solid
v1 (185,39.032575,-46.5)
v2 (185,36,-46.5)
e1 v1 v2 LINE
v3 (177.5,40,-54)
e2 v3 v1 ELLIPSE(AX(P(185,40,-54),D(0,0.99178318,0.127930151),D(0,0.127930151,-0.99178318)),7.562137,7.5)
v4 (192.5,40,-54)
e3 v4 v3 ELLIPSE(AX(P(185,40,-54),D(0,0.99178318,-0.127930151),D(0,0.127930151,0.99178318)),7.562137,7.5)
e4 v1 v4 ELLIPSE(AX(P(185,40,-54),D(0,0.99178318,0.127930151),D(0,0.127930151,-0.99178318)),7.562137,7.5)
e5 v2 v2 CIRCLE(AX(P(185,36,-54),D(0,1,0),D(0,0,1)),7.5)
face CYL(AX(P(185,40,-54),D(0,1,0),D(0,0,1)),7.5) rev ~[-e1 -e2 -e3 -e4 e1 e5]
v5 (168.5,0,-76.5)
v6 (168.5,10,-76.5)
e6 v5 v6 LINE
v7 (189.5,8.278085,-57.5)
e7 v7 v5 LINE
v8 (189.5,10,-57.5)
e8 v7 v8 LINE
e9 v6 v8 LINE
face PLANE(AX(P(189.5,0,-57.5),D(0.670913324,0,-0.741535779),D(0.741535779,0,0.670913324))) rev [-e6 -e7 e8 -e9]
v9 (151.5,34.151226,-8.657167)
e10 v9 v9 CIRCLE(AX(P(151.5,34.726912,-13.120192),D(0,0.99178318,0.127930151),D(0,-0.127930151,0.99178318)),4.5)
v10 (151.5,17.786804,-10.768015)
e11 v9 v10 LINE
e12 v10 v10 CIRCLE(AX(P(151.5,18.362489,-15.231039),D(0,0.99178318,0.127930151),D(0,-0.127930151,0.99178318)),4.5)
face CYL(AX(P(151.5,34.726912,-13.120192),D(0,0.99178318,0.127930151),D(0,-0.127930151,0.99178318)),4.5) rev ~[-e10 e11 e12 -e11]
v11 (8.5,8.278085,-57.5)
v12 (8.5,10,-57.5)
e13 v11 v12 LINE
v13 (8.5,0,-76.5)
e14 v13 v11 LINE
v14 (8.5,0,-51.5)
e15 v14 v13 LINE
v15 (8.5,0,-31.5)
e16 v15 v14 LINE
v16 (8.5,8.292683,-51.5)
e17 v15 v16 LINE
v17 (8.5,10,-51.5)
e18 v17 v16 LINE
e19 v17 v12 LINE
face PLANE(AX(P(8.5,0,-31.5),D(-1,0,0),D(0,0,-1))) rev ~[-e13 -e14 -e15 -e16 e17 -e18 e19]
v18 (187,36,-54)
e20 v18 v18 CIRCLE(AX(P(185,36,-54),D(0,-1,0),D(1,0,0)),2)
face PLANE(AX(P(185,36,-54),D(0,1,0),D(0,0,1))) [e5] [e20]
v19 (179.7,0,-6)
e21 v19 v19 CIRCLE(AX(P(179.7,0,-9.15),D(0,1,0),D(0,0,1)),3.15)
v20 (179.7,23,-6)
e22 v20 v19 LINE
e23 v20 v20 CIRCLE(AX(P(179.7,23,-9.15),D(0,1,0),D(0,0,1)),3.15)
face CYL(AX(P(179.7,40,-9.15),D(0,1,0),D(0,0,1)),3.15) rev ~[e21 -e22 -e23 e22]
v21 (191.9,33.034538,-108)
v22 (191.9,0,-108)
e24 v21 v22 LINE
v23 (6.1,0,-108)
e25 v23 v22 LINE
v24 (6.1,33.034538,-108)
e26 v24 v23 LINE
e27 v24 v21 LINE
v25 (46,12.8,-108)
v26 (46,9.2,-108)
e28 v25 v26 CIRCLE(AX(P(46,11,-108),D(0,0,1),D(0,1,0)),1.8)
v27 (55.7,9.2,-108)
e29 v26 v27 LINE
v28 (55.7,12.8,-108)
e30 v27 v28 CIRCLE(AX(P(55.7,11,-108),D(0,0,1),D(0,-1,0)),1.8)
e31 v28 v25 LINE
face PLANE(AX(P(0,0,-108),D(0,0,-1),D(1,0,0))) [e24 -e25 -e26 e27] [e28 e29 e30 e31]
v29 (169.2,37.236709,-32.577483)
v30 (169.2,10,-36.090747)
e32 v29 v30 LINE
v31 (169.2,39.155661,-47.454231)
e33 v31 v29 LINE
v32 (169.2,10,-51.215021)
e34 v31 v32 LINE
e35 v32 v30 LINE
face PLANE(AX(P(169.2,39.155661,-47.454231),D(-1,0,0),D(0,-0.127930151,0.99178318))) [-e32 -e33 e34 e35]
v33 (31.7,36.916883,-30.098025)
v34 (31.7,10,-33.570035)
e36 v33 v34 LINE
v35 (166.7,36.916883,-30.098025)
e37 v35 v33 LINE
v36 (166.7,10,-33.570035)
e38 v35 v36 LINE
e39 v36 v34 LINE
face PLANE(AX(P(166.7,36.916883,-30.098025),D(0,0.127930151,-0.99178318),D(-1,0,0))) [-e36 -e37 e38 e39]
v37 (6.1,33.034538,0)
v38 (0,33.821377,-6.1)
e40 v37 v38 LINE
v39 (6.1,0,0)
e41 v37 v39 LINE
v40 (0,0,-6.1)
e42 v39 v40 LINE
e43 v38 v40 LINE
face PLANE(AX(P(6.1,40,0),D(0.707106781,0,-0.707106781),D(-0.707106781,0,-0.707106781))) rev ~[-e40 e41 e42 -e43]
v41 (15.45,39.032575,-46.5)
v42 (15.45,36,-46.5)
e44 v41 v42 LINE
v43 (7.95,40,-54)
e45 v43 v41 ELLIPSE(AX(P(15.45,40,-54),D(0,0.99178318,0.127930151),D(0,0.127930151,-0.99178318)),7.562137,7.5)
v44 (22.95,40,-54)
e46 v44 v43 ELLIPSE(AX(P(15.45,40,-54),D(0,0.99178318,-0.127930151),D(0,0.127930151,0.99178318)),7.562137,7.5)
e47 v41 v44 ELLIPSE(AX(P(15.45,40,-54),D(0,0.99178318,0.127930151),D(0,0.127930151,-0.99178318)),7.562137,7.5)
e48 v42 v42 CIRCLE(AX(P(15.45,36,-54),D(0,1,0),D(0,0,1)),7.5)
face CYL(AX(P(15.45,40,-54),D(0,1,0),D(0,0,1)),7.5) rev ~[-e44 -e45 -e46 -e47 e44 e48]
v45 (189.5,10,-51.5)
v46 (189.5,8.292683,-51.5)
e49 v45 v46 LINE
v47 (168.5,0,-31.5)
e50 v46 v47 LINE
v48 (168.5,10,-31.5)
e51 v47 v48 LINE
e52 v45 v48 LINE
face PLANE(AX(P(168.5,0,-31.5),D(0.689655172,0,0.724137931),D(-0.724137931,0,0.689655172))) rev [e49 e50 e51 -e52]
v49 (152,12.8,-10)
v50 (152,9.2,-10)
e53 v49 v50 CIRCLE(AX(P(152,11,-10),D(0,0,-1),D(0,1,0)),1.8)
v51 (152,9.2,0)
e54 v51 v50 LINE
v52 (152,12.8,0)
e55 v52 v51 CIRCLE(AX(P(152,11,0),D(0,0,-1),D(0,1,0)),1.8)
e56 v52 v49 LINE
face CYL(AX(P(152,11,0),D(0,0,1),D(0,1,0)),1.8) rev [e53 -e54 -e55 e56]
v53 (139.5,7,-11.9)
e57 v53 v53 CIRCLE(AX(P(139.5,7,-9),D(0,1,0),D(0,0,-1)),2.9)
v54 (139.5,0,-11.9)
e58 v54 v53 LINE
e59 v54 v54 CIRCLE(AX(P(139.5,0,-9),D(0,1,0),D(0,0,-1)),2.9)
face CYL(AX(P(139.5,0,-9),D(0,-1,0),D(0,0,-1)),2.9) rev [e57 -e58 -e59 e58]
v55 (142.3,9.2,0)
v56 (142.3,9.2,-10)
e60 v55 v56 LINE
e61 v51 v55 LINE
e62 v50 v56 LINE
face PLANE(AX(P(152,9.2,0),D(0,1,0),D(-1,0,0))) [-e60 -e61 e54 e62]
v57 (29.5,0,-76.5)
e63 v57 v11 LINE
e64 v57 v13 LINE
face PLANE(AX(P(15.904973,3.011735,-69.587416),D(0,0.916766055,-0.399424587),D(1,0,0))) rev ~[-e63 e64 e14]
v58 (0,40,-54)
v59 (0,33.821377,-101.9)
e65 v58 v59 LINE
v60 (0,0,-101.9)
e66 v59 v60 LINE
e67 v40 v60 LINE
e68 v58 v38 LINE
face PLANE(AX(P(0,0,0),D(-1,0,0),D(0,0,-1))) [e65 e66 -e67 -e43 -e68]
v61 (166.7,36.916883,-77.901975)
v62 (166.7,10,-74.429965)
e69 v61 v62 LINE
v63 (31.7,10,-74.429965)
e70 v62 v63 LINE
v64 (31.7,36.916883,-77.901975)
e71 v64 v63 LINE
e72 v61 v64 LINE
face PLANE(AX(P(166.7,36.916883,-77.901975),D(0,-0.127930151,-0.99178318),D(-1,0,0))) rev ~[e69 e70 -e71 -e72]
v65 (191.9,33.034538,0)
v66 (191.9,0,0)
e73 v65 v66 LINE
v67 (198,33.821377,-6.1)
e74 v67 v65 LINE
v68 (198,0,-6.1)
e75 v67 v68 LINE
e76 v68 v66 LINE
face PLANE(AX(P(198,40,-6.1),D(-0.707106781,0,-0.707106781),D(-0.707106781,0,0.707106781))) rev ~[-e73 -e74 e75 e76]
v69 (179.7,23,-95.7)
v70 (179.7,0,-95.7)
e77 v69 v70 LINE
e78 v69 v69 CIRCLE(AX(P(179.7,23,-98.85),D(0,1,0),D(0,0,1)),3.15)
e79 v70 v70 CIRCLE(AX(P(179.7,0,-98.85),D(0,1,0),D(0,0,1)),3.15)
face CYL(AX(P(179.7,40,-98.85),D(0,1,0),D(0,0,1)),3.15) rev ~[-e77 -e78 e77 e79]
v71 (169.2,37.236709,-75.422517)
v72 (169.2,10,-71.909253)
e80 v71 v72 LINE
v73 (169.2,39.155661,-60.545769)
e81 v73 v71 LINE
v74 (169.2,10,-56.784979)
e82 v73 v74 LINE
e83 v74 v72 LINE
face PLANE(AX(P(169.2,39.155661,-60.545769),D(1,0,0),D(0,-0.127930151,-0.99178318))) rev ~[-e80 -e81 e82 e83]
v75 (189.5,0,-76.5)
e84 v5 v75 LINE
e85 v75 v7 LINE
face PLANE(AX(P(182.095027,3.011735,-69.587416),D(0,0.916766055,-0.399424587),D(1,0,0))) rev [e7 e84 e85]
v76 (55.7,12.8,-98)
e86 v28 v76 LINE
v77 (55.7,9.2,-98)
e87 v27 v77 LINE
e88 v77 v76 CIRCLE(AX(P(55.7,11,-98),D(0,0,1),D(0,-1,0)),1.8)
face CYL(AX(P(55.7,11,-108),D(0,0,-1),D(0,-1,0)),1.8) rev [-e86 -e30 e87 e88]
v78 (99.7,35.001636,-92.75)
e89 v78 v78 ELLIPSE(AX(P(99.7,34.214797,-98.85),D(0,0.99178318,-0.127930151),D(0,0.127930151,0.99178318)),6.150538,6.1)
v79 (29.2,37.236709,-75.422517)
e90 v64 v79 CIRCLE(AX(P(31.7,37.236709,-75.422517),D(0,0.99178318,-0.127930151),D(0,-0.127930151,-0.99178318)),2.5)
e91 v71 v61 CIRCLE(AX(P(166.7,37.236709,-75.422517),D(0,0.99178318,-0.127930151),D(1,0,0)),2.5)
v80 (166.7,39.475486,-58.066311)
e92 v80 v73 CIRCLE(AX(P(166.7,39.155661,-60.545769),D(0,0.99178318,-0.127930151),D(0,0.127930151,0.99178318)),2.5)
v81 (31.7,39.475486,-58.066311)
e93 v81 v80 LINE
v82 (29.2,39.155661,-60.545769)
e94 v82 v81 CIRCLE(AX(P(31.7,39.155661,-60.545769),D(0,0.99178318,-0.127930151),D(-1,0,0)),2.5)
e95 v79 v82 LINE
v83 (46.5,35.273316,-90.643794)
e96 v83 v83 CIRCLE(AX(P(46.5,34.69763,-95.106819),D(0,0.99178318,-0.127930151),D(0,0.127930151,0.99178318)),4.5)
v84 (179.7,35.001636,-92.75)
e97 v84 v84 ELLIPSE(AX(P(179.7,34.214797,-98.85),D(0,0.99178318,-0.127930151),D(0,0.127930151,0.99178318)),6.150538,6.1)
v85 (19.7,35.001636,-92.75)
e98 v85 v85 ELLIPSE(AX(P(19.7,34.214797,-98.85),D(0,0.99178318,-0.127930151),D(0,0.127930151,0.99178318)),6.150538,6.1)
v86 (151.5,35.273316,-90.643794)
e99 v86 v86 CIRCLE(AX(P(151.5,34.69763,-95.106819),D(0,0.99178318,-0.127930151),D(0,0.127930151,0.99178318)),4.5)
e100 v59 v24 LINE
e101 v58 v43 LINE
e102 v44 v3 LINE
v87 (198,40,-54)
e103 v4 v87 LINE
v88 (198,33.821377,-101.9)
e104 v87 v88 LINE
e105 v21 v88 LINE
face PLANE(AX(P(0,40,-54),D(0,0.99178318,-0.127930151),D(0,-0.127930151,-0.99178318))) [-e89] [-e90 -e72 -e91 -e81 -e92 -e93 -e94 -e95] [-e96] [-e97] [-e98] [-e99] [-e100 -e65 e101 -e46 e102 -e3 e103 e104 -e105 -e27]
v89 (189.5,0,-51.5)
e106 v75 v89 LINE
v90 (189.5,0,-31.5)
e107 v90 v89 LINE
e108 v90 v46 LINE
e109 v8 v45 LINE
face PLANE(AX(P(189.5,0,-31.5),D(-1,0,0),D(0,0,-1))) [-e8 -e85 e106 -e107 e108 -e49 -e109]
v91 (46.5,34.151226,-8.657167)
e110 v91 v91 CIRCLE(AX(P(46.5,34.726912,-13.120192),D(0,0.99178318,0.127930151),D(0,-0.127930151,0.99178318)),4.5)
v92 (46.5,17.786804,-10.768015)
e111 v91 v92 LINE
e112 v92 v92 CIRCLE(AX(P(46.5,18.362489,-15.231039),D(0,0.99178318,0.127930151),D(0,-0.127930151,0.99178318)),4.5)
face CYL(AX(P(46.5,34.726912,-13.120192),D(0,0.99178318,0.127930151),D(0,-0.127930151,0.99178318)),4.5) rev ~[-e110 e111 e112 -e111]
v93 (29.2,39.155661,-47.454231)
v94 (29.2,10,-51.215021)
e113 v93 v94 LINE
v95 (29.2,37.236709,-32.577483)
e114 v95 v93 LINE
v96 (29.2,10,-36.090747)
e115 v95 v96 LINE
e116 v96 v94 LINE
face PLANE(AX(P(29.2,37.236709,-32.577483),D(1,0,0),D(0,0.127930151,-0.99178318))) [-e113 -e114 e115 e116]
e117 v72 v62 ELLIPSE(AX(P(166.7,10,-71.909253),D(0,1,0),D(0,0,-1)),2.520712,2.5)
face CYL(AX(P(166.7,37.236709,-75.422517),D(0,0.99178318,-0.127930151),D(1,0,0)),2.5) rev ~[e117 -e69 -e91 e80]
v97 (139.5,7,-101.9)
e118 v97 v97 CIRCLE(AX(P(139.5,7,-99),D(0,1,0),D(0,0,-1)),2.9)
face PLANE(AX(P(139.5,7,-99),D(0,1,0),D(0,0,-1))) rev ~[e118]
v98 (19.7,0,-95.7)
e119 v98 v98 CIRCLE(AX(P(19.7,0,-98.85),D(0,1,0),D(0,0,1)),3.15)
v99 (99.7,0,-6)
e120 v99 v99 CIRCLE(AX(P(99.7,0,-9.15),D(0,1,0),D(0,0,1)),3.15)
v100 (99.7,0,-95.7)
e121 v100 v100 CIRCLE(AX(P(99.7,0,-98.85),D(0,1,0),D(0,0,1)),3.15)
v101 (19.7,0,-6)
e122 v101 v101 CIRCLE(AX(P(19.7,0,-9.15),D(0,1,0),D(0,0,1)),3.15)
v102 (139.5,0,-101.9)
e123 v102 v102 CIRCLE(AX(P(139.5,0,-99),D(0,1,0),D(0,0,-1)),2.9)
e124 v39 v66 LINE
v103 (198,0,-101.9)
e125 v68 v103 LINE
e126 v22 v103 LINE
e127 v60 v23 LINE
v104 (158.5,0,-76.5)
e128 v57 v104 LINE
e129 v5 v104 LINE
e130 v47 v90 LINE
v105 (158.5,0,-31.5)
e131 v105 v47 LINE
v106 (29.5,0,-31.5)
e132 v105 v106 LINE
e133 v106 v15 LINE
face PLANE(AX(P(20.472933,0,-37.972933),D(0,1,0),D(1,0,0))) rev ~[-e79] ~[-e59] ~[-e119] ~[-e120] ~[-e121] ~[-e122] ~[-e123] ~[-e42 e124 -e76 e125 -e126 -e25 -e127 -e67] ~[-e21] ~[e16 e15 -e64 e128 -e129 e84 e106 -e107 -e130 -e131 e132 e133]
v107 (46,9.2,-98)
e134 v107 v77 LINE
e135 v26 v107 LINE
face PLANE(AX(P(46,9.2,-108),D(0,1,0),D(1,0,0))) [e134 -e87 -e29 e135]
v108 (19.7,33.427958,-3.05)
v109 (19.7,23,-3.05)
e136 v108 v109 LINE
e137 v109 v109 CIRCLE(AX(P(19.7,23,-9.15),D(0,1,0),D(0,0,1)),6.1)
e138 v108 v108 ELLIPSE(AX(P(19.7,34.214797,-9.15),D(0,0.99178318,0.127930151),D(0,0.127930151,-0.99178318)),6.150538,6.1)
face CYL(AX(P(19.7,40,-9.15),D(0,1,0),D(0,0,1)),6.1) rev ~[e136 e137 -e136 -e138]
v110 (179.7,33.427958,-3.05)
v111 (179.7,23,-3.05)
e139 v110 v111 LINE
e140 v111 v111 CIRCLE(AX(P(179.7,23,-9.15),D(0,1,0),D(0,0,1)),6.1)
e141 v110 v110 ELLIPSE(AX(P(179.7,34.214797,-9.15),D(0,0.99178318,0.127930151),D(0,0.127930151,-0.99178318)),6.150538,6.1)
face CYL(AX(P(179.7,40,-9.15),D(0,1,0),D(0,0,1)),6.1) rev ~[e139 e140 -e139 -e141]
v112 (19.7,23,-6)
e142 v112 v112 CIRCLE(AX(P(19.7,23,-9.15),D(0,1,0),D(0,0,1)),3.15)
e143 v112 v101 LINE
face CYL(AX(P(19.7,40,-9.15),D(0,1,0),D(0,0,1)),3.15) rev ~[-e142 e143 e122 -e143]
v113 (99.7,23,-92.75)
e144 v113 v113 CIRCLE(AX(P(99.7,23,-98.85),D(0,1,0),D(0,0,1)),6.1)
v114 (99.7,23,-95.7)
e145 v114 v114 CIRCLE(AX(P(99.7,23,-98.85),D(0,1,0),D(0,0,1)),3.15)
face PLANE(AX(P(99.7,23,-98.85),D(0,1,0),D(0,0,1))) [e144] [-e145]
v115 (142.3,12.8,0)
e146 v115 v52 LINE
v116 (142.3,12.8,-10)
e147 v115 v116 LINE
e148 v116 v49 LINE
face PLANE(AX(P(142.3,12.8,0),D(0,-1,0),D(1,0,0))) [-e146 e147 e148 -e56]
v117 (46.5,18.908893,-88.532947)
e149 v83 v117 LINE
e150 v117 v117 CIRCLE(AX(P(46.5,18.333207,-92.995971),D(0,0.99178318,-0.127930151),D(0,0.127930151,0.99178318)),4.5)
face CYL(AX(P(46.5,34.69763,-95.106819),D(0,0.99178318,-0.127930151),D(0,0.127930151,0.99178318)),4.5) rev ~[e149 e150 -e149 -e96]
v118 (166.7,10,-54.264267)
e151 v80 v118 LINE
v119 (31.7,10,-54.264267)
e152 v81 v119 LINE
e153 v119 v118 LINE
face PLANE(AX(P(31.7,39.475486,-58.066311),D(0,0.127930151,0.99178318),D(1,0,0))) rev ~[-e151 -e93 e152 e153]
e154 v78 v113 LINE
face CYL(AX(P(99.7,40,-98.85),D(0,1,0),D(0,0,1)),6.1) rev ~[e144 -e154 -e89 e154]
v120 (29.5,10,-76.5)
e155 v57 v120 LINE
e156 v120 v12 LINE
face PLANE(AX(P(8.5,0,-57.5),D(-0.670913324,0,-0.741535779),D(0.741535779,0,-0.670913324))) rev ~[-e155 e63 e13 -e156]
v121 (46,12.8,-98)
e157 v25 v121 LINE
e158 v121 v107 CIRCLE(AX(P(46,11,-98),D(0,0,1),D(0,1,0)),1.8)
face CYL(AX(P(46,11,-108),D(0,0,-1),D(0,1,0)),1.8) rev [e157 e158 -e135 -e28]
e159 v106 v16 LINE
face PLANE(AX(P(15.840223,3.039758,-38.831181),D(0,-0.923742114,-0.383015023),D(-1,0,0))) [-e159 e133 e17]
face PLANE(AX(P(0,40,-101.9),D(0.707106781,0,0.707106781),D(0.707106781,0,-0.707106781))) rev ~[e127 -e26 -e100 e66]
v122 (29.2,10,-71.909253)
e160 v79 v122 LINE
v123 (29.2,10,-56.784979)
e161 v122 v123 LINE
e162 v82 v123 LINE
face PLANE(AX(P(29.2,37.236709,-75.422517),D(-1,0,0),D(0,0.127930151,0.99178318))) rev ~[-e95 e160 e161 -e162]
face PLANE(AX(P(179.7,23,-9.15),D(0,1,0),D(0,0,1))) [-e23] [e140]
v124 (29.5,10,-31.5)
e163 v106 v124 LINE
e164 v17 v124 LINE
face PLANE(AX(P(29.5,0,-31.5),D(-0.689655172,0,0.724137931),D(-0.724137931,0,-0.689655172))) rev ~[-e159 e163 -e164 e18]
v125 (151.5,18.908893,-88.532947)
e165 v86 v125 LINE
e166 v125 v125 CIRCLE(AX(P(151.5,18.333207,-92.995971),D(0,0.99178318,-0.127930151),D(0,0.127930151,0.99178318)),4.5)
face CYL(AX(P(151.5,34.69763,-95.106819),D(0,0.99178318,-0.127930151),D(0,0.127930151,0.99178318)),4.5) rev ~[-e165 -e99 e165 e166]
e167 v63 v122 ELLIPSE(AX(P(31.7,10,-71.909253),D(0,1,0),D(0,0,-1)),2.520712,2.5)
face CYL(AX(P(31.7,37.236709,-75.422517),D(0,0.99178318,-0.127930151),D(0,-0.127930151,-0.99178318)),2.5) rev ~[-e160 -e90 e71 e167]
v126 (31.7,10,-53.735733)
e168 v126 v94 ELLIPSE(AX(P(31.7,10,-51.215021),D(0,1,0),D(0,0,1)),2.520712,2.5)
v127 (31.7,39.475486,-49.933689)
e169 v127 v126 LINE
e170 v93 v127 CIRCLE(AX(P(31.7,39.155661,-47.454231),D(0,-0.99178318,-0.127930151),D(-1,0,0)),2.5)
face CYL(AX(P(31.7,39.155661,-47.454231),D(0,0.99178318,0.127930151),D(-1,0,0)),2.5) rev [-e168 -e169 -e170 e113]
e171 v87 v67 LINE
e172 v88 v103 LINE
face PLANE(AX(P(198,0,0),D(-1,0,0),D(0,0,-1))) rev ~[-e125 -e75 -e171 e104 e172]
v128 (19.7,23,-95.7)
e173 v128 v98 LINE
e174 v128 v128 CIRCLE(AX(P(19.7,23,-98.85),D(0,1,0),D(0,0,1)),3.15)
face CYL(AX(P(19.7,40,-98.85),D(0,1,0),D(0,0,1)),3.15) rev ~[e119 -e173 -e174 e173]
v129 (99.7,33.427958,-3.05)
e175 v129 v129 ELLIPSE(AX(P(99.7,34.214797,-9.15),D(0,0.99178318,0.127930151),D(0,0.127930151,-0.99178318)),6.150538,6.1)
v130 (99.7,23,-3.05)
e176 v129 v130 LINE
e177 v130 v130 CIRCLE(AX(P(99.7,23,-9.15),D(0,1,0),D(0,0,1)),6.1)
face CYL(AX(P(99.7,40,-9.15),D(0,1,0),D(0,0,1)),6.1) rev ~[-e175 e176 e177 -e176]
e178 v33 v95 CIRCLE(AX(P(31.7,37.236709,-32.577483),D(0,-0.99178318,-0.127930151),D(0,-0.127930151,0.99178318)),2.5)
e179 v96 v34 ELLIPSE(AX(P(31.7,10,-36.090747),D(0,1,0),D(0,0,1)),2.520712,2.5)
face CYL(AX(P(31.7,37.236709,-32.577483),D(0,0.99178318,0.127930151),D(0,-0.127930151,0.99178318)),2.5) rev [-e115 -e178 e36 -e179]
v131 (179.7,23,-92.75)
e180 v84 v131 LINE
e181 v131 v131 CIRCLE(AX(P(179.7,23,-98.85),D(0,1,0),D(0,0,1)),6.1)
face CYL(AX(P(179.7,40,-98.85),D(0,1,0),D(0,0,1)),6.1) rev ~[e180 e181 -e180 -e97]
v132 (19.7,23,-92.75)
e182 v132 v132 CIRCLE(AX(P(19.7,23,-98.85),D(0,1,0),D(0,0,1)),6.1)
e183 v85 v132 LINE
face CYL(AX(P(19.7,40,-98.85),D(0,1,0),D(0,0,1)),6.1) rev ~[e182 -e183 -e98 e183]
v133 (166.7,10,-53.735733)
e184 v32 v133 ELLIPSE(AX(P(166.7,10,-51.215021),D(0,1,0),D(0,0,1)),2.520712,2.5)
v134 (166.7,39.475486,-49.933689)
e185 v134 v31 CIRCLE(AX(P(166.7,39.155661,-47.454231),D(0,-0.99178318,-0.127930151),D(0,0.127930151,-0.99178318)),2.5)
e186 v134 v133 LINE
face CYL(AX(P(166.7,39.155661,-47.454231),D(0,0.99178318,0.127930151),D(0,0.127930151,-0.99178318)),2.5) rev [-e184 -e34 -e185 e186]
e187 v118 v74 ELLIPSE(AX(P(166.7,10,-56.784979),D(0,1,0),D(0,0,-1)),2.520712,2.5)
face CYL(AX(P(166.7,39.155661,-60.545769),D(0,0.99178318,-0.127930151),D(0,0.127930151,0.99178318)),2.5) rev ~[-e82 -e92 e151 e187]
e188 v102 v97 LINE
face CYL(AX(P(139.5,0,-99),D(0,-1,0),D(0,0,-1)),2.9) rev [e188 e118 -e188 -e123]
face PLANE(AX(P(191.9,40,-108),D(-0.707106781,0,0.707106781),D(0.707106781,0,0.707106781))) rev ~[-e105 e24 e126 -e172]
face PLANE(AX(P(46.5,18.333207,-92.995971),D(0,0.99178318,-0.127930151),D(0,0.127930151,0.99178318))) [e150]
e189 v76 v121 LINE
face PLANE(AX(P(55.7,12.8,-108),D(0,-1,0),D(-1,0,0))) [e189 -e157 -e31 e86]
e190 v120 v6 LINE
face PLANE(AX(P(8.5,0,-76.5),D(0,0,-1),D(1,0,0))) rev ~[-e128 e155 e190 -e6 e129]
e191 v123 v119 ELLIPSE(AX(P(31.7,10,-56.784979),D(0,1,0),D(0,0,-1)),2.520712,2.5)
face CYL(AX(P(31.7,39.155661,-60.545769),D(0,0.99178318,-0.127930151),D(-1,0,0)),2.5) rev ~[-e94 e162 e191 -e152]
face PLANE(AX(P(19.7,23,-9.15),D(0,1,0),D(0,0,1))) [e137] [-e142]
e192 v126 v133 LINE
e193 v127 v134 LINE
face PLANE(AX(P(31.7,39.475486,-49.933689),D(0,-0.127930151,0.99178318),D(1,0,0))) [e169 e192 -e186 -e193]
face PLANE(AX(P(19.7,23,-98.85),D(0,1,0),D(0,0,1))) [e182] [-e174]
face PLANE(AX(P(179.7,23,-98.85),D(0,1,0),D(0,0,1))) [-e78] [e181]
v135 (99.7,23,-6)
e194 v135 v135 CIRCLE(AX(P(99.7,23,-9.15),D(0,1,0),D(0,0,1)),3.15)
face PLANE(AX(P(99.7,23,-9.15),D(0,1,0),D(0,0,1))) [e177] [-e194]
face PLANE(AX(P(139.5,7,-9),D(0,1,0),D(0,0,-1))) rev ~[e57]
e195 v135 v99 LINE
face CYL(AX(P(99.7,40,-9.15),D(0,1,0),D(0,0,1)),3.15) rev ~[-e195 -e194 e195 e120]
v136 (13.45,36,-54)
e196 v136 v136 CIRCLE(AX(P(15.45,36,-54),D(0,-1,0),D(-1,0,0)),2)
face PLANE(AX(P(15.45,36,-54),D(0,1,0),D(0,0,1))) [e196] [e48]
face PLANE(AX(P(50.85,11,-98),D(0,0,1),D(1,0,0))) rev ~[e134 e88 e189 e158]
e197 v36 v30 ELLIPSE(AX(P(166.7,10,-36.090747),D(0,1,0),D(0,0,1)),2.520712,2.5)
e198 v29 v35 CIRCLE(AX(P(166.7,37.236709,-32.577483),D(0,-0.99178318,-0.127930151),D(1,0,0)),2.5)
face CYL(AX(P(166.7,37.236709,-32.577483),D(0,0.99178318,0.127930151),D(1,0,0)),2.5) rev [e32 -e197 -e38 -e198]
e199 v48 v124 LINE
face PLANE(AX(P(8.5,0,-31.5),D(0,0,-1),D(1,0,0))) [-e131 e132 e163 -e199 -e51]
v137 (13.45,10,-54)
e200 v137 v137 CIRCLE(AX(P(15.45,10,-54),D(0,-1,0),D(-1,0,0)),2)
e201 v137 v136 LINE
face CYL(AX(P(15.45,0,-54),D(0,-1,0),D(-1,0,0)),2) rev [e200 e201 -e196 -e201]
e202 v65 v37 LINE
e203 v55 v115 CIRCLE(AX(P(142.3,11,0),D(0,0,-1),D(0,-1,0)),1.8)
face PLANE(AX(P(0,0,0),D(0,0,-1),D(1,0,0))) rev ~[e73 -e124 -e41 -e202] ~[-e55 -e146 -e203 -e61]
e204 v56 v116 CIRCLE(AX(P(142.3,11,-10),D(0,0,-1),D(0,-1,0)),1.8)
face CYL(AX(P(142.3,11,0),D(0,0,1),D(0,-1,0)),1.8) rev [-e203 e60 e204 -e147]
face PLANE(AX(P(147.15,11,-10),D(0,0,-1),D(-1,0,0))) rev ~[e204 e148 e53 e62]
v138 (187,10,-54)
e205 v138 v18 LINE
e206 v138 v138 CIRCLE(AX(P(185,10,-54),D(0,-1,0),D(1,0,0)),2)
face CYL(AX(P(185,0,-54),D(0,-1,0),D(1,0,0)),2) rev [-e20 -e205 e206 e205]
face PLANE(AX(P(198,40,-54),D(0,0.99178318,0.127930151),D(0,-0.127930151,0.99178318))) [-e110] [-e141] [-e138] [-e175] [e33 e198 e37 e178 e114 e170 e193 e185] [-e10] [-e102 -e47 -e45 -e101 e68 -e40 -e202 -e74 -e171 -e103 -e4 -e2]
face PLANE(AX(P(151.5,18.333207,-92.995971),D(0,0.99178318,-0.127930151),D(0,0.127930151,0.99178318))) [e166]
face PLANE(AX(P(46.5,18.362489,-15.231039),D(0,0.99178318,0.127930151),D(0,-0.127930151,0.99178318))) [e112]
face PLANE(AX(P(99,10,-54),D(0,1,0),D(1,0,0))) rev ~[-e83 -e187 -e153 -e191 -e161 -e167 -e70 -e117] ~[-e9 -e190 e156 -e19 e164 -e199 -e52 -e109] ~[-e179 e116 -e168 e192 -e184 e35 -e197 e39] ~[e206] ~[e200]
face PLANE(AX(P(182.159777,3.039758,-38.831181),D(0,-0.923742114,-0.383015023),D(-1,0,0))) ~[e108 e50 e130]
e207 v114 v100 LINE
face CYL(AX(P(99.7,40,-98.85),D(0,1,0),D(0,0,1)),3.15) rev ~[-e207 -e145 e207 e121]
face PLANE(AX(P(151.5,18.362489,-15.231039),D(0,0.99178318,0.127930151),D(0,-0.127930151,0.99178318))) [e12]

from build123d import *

# Parameters (mm, degrees)
SKETCH1_W            = 198
SKETCH1_H            = 108
BOSS_EXTRUDE1_DEPTH  = 40
SKETCH4_W            = 181
SKETCH4_H            = 45
CUT_EXTRUDE2_DEPTH   = 10
CUT_EXTRUDE3_START   = -198
CUT_EXTRUDE3_DEPTH   = 198
BOSS_EXTRUDE11_DEPTH = 10
CUT_EXTRUDE12_DEPTH  = 198
CUT_EXTRUDE28_DEPTH  = 14.5
CUT_EXTRUDE29_DEPTH  = 14.5
CUT_EXTRUDE40_REACH  = 231.059
SKETCH12_R           = 3.15
CUT_EXTRUDE9_DEPTH   = 230.058944379
SKETCH13_R           = 4.5
CUT_EXTRUDE10_DEPTH  = 16.5
SKETCH14_R           = 4.5
CUT_EXTRUDE11_DEPTH  = 16.5
SKETCH41_R           = 2.9
CUT_EXTRUDE21_DEPTH  = 7
CUT_EXTRUDE22_DEPTH  = 10
CUT_EXTRUDE23_DEPTH  = 10
CUT_EXTRUDE35_DEPTH  = 55.4
CUT_EXTRUDE34_DEPTH  = 55.4
CUT_EXTRUDE36_DEPTH  = 55.4
SKETCH90_R           = 6.1
CUT_EXTRUDE38_DEPTH  = 17
SKETCH96_R           = 2
CUT_EXTRUDE39_DEPTH  = 230.058944379
SKETCH98_R           = 7.5
CUT_EXTRUDE41_DEPTH  = 4


with BuildPart() as part:
    # Sketch1 → Boss-Extrude1 (new body)
    with BuildSketch(Plane(origin=(0, 0, 0), x_dir=(1, 0, 0), z_dir=(0, 1, 0))):
        with Locations((99, 54)):
            Rectangle(SKETCH1_W, SKETCH1_H)
    extrude(amount=BOSS_EXTRUDE1_DEPTH)

    # Sketch4 → Cut-Extrude2 (cut)
    with BuildSketch(Plane(origin=(0, 0, 0), x_dir=(1, 0, 0), z_dir=(0, 1, 0))):
        with Locations((99, 54)):
            Rectangle(SKETCH4_W, SKETCH4_H)
    extrude(amount=CUT_EXTRUDE2_DEPTH, mode=Mode.SUBTRACT)

    # Sketch5 → Cut-Extrude3 (cut)
    with BuildSketch(Plane(origin=(198, 0, 0), x_dir=(0, 0, -1), z_dir=(1, 0, 0)).offset(CUT_EXTRUDE3_START)):
        Polygon((54, 40), (108, 33.034537882), (108, 40), align=None)
    extrude(amount=CUT_EXTRUDE3_DEPTH, mode=Mode.SUBTRACT)

    # Sketch53 → Boss-Extrude11 (add)
    with BuildSketch(Plane(origin=(0, 10, 0), x_dir=(-1, 0, 0), z_dir=(0, -1, 0))):
        Polygon((-8.5, 51.5), (-8.5, 31.5), (-39.5, 31.5), align=None)
        Polygon((-8.5, 56.5), (-8.5, 76.5), (-39.5, 76.5), align=None)
        Polygon((-158.5, 76.5), (-189.5, 56.5), (-189.5, 76.5), align=None)
        Polygon((-158.5, 31.5), (-189.5, 51.5), (-189.5, 31.5), align=None)
    extrude(amount=BOSS_EXTRUDE11_DEPTH)

    # Sketch18 → Cut-Extrude12 (cut)
    with BuildSketch(Plane(origin=(198, 0, 0), x_dir=(0, 0, -1), z_dir=(1, 0, 0))):
        Polygon((0, 33.034537882), (0, 40), (54, 40), align=None)
    extrude(amount=-CUT_EXTRUDE12_DEPTH, mode=Mode.SUBTRACT)

    # Izq → Cut-Extrude28 (cut)
    with BuildSketch(Plane(origin=(0, 28.012686094, -12.204810084), x_dir=(1, 0, 0), z_dir=(0, 0.9167660546215652, -0.39942458749256926))):
        Polygon((8.5, 48.862182113), (29.5, 70.132603179), (8.5, 70.132603179), align=None)
    cut_extrude28 = extrude(amount=-CUT_EXTRUDE28_DEPTH, mode=Mode.SUBTRACT)

    # Der → Cut-Extrude29 (cut)
    with BuildSketch(Plane(origin=(0, -11.144923858, -4.62106599), x_dir=(1, 0, 0), z_dir=(0, 0.9237421135716327, 0.38301502270043264))):
        Polygon((8.5, 51.290217599), (29.5, 29.097876578), (8.5, 29.097876578), align=None)
    cut_extrude29 = extrude(amount=-CUT_EXTRUDE29_DEPTH, mode=Mode.SUBTRACT)

    # Cut-Extrude40: up to this face of the body (flat: up to its plane)
    cut_extrude40_end = Plane(part.part.faces().sort_by_distance((99, 10, -54))[0])
    # Sketch97 → Cut-Extrude40 (cut, up to the picked face)
    with BuildSketch(Plane(origin=(0, 0, 0), x_dir=(1, 0, 0), z_dir=(0, 1, 0)), mode=Mode.PRIVATE) as cut_extrude40_sk1:
        Polygon((8.5, 57.5), (29.5, 76.5), (158.5, 76.5), (189.5, 56.5), (189.5, 51.5), (158.5, 31.5), (29.5, 31.5), (8.5, 51.5), align=None)
    cut_extrude40_tool1 = split(extrude(cut_extrude40_sk1.sketch, amount=CUT_EXTRUDE40_REACH, mode=Mode.PRIVATE), bisect_by=cut_extrude40_end, keep=Keep.BOTH, mode=Mode.PRIVATE)
    cut_extrude40 = cut_extrude40_tool1.solids().sort_by(Axis((96.82024, 0, -54.014019), (0, 1, 0)))[0]
    add(cut_extrude40, mode=Mode.SUBTRACT)

    # Mirror2: Cut-Extrude28, Cut-Extrude29, Cut-Extrude40 across plane
    add(cut_extrude28.mirror(Plane(origin=(99, 0, 0), x_dir=(0, 0, 1), z_dir=(1, 0, 0))), mode=Mode.SUBTRACT)
    add(cut_extrude29.mirror(Plane(origin=(99, 0, 0), x_dir=(0, 0, 1), z_dir=(1, 0, 0))), mode=Mode.SUBTRACT)
    add(cut_extrude40.mirror(Plane(origin=(99, 0, 0), x_dir=(0, 0, 1), z_dir=(1, 0, 0))), mode=Mode.SUBTRACT)

    # Sketch12 → Cut-Extrude9 (cut, through all)
    with BuildSketch(Plane(origin=(0, 40, 0), x_dir=(1, 0, 0), z_dir=(0, 1, 0))):
        with Locations(Location((19.7, 98.85, 0), (0, 0, 270))):
            Circle(SKETCH12_R)
        with Locations(Location((99.7, 9.15, 0), (0, 0, 270))):
            Circle(SKETCH12_R)
        with Locations(Location((179.7, 9.15, 0), (0, 0, 270))):
            Circle(SKETCH12_R)
        with Locations(Location((19.7, 9.15, 0), (0, 0, 270))):
            Circle(SKETCH12_R)
        with Locations(Location((99.7, 98.85, 0), (0, 0, 270))):
            Circle(SKETCH12_R)
        with Locations(Location((179.7, 98.85, 0), (0, 0, 270))):
            Circle(SKETCH12_R)
    extrude(amount=-CUT_EXTRUDE9_DEPTH, mode=Mode.SUBTRACT)

    # Sketch13 → Cut-Extrude10 (cut)
    with BuildSketch(Plane(origin=(0, 46.196819559, -5.958929567), x_dir=(1, 0, 0), z_dir=(0, 0.9917831801295787, -0.12793015130163748))):
        with Locations(Location((46.5, 89.886470025, 0), (0, 0, 270))):
            Circle(SKETCH13_R)
        with Locations(Location((151.5, 89.886470025, 0), (0, 0, 270))):
            Circle(SKETCH13_R)
    extrude(amount=-CUT_EXTRUDE10_DEPTH, mode=Mode.SUBTRACT)

    # Sketch14 → Cut-Extrude11 (cut)
    with BuildSketch(Plane(origin=(0, 32.118224468, 7.103753281), x_dir=(1, 0, 0), z_dir=(0, 0.9917831801295787, 0.1279301513016377))):
        with Locations(Location((46.5, 20.391498231, 0), (0, 0, 270))):
            Circle(SKETCH14_R)
        with Locations(Location((151.5, 20.391498231, 0), (0, 0, 270))):
            Circle(SKETCH14_R)
    extrude(amount=-CUT_EXTRUDE11_DEPTH, mode=Mode.SUBTRACT)

    # Sketch41 → Cut-Extrude21 (cut)
    with BuildSketch(Plane(origin=(0, 0, 0), x_dir=(1, 0, 0), z_dir=(0, 1, 0))):
        with Locations(Location((139.5, 9, 0), (0, 0, 90))):
            Circle(SKETCH41_R)
        with Locations(Location((139.5, 99, 0), (0, 0, 90))):
            Circle(SKETCH41_R)
    extrude(amount=CUT_EXTRUDE21_DEPTH, mode=Mode.SUBTRACT)

    # Sketch42 → Cut-Extrude22 (cut)
    with BuildSketch(Plane.XY):
        with BuildLine():
            Line((142.3, 12.8), (152, 12.8))
            ThreePointArc((152, 12.8), (153.8, 11), (152, 9.2))
            Line((152, 9.2), (142.3, 9.2))
            ThreePointArc((142.3, 9.2), (140.5, 11), (142.3, 12.8))
        make_face()
    extrude(amount=-CUT_EXTRUDE22_DEPTH, mode=Mode.SUBTRACT)

    # Sketch43 → Cut-Extrude23 (cut)
    with BuildSketch(Plane(origin=(0, 0, -108), x_dir=(-1, 0, 0), z_dir=(0, 0, -1))):
        with BuildLine():
            Line((-55.7, 12.8), (-46, 12.8))
            ThreePointArc((-46, 12.8), (-44.2, 11), (-46, 9.2))
            Line((-46, 9.2), (-55.7, 9.2))
            ThreePointArc((-55.7, 9.2), (-57.5, 11), (-55.7, 12.8))
        make_face()
    extrude(amount=-CUT_EXTRUDE23_DEPTH, mode=Mode.SUBTRACT)

    # Sketch84 → Cut-Extrude35 (cut)
    with BuildSketch(Plane(origin=(0, 46.196819559, -5.958929567), x_dir=(1, 0, 0), z_dir=(0, 0.9917831801295787, -0.12793015130163748))):
        with BuildLine():
            Line((31.7, 52.539085675), (166.7, 52.539085675))
            ThreePointArc((166.7, 52.539085675), (168.467766953, 53.271318722), (169.2, 55.039085675))
            Line((169.2, 55.039085675), (169.2, 70.039085675))
            ThreePointArc((169.2, 70.039085675), (168.467766953, 71.806852628), (166.7, 72.539085675))
            Line((166.7, 72.539085675), (31.7, 72.539085675))
            ThreePointArc((31.7, 72.539085675), (29.932233047, 71.806852628), (29.2, 70.039085675))
            Line((29.2, 70.039085675), (29.2, 55.039085675))
            ThreePointArc((29.2, 55.039085675), (29.932233047, 53.271318722), (31.7, 52.539085675))
        make_face()
    extrude(amount=-CUT_EXTRUDE35_DEPTH, mode=Mode.SUBTRACT)

    # Sketch83 → Cut-Extrude34 (cut)
    with BuildSketch(Plane(origin=(0, 32.493890552, 4.191388217), x_dir=(1, 0, 0), z_dir=(0, 0.9917831801295786, 0.12793015130163768))):
        with BuildLine():
            Line((31.7, 54.573497779), (166.7, 54.573497779))
            ThreePointArc((166.7, 54.573497779), (168.467766953, 53.841264732), (169.2, 52.073497779))
            Line((169.2, 52.073497779), (169.2, 37.073497779))
            ThreePointArc((169.2, 37.073497779), (168.467766953, 35.305730826), (166.7, 34.573497779))
            Line((166.7, 34.573497779), (31.7, 34.573497779))
            ThreePointArc((31.7, 34.573497779), (29.932233047, 35.305730826), (29.2, 37.073497779))
            Line((29.2, 37.073497779), (29.2, 52.073497779))
            ThreePointArc((29.2, 52.073497779), (29.932233047, 53.841264732), (31.7, 54.573497779))
        make_face()
    extrude(amount=-CUT_EXTRUDE34_DEPTH, mode=Mode.SUBTRACT)

    # Sketch85 → Cut-Extrude36 (cut)
    with BuildSketch(Plane(origin=(0, 40, 0), x_dir=(1, 0, 0), z_dir=(0, 1, 0))):
        Polygon((0, 101.9), (6.1, 108), (0, 108), align=None)
        Polygon((0, 0), (6.1, 0), (0, 6.1), align=None)
        Polygon((198, 6.1), (191.9, 0), (198, 0), align=None)
        Polygon((198, 108), (191.9, 108), (198, 101.9), align=None)
    extrude(amount=-CUT_EXTRUDE36_DEPTH, mode=Mode.SUBTRACT)

    # Sketch90 → Cut-Extrude38 (cut)
    with BuildSketch(Plane(origin=(0, 40, 0), x_dir=(1, 0, 0), z_dir=(0, 1, 0))):
        with Locations(Location((19.7, 9.15, 0), (0, 0, 270))):
            Circle(SKETCH90_R)
        with Locations(Location((99.7, 9.15, 0), (0, 0, 270))):
            Circle(SKETCH90_R)
        with Locations(Location((179.7, 9.15, 0), (0, 0, 270))):
            Circle(SKETCH90_R)
        with Locations(Location((99.7, 98.85, 0), (0, 0, 270))):
            Circle(SKETCH90_R)
        with Locations(Location((179.7, 98.85, 0), (0, 0, 270))):
            Circle(SKETCH90_R)
        with Locations(Location((19.7, 98.85, 0), (0, 0, 270))):
            Circle(SKETCH90_R)
    extrude(amount=-CUT_EXTRUDE38_DEPTH, mode=Mode.SUBTRACT)

    # Sketch96 → Cut-Extrude39 (cut, through all)
    with BuildSketch(Plane(origin=(0, 0, 0), x_dir=(1, 0, 0), z_dir=(0, 1, 0))):
        with Locations(Location((15.45, 54, 0), (0, 0, 180))):
            Circle(SKETCH96_R)
        with Locations((185, 54)):
            Circle(SKETCH96_R)
    extrude(amount=CUT_EXTRUDE39_DEPTH, mode=Mode.SUBTRACT)

    # Sketch98 → Cut-Extrude41 (cut)
    with BuildSketch(Plane(origin=(0, 40, 0), x_dir=(1, 0, 0), z_dir=(0, 1, 0))):
        with Locations(Location((185, 54, 0), (0, 0, 270))):
            Circle(SKETCH98_R)
        with Locations(Location((15.45, 54, 0), (0, 0, 270))):
            Circle(SKETCH98_R)
    extrude(amount=-CUT_EXTRUDE41_DEPTH, mode=Mode.SUBTRACT)


solid = part.part
